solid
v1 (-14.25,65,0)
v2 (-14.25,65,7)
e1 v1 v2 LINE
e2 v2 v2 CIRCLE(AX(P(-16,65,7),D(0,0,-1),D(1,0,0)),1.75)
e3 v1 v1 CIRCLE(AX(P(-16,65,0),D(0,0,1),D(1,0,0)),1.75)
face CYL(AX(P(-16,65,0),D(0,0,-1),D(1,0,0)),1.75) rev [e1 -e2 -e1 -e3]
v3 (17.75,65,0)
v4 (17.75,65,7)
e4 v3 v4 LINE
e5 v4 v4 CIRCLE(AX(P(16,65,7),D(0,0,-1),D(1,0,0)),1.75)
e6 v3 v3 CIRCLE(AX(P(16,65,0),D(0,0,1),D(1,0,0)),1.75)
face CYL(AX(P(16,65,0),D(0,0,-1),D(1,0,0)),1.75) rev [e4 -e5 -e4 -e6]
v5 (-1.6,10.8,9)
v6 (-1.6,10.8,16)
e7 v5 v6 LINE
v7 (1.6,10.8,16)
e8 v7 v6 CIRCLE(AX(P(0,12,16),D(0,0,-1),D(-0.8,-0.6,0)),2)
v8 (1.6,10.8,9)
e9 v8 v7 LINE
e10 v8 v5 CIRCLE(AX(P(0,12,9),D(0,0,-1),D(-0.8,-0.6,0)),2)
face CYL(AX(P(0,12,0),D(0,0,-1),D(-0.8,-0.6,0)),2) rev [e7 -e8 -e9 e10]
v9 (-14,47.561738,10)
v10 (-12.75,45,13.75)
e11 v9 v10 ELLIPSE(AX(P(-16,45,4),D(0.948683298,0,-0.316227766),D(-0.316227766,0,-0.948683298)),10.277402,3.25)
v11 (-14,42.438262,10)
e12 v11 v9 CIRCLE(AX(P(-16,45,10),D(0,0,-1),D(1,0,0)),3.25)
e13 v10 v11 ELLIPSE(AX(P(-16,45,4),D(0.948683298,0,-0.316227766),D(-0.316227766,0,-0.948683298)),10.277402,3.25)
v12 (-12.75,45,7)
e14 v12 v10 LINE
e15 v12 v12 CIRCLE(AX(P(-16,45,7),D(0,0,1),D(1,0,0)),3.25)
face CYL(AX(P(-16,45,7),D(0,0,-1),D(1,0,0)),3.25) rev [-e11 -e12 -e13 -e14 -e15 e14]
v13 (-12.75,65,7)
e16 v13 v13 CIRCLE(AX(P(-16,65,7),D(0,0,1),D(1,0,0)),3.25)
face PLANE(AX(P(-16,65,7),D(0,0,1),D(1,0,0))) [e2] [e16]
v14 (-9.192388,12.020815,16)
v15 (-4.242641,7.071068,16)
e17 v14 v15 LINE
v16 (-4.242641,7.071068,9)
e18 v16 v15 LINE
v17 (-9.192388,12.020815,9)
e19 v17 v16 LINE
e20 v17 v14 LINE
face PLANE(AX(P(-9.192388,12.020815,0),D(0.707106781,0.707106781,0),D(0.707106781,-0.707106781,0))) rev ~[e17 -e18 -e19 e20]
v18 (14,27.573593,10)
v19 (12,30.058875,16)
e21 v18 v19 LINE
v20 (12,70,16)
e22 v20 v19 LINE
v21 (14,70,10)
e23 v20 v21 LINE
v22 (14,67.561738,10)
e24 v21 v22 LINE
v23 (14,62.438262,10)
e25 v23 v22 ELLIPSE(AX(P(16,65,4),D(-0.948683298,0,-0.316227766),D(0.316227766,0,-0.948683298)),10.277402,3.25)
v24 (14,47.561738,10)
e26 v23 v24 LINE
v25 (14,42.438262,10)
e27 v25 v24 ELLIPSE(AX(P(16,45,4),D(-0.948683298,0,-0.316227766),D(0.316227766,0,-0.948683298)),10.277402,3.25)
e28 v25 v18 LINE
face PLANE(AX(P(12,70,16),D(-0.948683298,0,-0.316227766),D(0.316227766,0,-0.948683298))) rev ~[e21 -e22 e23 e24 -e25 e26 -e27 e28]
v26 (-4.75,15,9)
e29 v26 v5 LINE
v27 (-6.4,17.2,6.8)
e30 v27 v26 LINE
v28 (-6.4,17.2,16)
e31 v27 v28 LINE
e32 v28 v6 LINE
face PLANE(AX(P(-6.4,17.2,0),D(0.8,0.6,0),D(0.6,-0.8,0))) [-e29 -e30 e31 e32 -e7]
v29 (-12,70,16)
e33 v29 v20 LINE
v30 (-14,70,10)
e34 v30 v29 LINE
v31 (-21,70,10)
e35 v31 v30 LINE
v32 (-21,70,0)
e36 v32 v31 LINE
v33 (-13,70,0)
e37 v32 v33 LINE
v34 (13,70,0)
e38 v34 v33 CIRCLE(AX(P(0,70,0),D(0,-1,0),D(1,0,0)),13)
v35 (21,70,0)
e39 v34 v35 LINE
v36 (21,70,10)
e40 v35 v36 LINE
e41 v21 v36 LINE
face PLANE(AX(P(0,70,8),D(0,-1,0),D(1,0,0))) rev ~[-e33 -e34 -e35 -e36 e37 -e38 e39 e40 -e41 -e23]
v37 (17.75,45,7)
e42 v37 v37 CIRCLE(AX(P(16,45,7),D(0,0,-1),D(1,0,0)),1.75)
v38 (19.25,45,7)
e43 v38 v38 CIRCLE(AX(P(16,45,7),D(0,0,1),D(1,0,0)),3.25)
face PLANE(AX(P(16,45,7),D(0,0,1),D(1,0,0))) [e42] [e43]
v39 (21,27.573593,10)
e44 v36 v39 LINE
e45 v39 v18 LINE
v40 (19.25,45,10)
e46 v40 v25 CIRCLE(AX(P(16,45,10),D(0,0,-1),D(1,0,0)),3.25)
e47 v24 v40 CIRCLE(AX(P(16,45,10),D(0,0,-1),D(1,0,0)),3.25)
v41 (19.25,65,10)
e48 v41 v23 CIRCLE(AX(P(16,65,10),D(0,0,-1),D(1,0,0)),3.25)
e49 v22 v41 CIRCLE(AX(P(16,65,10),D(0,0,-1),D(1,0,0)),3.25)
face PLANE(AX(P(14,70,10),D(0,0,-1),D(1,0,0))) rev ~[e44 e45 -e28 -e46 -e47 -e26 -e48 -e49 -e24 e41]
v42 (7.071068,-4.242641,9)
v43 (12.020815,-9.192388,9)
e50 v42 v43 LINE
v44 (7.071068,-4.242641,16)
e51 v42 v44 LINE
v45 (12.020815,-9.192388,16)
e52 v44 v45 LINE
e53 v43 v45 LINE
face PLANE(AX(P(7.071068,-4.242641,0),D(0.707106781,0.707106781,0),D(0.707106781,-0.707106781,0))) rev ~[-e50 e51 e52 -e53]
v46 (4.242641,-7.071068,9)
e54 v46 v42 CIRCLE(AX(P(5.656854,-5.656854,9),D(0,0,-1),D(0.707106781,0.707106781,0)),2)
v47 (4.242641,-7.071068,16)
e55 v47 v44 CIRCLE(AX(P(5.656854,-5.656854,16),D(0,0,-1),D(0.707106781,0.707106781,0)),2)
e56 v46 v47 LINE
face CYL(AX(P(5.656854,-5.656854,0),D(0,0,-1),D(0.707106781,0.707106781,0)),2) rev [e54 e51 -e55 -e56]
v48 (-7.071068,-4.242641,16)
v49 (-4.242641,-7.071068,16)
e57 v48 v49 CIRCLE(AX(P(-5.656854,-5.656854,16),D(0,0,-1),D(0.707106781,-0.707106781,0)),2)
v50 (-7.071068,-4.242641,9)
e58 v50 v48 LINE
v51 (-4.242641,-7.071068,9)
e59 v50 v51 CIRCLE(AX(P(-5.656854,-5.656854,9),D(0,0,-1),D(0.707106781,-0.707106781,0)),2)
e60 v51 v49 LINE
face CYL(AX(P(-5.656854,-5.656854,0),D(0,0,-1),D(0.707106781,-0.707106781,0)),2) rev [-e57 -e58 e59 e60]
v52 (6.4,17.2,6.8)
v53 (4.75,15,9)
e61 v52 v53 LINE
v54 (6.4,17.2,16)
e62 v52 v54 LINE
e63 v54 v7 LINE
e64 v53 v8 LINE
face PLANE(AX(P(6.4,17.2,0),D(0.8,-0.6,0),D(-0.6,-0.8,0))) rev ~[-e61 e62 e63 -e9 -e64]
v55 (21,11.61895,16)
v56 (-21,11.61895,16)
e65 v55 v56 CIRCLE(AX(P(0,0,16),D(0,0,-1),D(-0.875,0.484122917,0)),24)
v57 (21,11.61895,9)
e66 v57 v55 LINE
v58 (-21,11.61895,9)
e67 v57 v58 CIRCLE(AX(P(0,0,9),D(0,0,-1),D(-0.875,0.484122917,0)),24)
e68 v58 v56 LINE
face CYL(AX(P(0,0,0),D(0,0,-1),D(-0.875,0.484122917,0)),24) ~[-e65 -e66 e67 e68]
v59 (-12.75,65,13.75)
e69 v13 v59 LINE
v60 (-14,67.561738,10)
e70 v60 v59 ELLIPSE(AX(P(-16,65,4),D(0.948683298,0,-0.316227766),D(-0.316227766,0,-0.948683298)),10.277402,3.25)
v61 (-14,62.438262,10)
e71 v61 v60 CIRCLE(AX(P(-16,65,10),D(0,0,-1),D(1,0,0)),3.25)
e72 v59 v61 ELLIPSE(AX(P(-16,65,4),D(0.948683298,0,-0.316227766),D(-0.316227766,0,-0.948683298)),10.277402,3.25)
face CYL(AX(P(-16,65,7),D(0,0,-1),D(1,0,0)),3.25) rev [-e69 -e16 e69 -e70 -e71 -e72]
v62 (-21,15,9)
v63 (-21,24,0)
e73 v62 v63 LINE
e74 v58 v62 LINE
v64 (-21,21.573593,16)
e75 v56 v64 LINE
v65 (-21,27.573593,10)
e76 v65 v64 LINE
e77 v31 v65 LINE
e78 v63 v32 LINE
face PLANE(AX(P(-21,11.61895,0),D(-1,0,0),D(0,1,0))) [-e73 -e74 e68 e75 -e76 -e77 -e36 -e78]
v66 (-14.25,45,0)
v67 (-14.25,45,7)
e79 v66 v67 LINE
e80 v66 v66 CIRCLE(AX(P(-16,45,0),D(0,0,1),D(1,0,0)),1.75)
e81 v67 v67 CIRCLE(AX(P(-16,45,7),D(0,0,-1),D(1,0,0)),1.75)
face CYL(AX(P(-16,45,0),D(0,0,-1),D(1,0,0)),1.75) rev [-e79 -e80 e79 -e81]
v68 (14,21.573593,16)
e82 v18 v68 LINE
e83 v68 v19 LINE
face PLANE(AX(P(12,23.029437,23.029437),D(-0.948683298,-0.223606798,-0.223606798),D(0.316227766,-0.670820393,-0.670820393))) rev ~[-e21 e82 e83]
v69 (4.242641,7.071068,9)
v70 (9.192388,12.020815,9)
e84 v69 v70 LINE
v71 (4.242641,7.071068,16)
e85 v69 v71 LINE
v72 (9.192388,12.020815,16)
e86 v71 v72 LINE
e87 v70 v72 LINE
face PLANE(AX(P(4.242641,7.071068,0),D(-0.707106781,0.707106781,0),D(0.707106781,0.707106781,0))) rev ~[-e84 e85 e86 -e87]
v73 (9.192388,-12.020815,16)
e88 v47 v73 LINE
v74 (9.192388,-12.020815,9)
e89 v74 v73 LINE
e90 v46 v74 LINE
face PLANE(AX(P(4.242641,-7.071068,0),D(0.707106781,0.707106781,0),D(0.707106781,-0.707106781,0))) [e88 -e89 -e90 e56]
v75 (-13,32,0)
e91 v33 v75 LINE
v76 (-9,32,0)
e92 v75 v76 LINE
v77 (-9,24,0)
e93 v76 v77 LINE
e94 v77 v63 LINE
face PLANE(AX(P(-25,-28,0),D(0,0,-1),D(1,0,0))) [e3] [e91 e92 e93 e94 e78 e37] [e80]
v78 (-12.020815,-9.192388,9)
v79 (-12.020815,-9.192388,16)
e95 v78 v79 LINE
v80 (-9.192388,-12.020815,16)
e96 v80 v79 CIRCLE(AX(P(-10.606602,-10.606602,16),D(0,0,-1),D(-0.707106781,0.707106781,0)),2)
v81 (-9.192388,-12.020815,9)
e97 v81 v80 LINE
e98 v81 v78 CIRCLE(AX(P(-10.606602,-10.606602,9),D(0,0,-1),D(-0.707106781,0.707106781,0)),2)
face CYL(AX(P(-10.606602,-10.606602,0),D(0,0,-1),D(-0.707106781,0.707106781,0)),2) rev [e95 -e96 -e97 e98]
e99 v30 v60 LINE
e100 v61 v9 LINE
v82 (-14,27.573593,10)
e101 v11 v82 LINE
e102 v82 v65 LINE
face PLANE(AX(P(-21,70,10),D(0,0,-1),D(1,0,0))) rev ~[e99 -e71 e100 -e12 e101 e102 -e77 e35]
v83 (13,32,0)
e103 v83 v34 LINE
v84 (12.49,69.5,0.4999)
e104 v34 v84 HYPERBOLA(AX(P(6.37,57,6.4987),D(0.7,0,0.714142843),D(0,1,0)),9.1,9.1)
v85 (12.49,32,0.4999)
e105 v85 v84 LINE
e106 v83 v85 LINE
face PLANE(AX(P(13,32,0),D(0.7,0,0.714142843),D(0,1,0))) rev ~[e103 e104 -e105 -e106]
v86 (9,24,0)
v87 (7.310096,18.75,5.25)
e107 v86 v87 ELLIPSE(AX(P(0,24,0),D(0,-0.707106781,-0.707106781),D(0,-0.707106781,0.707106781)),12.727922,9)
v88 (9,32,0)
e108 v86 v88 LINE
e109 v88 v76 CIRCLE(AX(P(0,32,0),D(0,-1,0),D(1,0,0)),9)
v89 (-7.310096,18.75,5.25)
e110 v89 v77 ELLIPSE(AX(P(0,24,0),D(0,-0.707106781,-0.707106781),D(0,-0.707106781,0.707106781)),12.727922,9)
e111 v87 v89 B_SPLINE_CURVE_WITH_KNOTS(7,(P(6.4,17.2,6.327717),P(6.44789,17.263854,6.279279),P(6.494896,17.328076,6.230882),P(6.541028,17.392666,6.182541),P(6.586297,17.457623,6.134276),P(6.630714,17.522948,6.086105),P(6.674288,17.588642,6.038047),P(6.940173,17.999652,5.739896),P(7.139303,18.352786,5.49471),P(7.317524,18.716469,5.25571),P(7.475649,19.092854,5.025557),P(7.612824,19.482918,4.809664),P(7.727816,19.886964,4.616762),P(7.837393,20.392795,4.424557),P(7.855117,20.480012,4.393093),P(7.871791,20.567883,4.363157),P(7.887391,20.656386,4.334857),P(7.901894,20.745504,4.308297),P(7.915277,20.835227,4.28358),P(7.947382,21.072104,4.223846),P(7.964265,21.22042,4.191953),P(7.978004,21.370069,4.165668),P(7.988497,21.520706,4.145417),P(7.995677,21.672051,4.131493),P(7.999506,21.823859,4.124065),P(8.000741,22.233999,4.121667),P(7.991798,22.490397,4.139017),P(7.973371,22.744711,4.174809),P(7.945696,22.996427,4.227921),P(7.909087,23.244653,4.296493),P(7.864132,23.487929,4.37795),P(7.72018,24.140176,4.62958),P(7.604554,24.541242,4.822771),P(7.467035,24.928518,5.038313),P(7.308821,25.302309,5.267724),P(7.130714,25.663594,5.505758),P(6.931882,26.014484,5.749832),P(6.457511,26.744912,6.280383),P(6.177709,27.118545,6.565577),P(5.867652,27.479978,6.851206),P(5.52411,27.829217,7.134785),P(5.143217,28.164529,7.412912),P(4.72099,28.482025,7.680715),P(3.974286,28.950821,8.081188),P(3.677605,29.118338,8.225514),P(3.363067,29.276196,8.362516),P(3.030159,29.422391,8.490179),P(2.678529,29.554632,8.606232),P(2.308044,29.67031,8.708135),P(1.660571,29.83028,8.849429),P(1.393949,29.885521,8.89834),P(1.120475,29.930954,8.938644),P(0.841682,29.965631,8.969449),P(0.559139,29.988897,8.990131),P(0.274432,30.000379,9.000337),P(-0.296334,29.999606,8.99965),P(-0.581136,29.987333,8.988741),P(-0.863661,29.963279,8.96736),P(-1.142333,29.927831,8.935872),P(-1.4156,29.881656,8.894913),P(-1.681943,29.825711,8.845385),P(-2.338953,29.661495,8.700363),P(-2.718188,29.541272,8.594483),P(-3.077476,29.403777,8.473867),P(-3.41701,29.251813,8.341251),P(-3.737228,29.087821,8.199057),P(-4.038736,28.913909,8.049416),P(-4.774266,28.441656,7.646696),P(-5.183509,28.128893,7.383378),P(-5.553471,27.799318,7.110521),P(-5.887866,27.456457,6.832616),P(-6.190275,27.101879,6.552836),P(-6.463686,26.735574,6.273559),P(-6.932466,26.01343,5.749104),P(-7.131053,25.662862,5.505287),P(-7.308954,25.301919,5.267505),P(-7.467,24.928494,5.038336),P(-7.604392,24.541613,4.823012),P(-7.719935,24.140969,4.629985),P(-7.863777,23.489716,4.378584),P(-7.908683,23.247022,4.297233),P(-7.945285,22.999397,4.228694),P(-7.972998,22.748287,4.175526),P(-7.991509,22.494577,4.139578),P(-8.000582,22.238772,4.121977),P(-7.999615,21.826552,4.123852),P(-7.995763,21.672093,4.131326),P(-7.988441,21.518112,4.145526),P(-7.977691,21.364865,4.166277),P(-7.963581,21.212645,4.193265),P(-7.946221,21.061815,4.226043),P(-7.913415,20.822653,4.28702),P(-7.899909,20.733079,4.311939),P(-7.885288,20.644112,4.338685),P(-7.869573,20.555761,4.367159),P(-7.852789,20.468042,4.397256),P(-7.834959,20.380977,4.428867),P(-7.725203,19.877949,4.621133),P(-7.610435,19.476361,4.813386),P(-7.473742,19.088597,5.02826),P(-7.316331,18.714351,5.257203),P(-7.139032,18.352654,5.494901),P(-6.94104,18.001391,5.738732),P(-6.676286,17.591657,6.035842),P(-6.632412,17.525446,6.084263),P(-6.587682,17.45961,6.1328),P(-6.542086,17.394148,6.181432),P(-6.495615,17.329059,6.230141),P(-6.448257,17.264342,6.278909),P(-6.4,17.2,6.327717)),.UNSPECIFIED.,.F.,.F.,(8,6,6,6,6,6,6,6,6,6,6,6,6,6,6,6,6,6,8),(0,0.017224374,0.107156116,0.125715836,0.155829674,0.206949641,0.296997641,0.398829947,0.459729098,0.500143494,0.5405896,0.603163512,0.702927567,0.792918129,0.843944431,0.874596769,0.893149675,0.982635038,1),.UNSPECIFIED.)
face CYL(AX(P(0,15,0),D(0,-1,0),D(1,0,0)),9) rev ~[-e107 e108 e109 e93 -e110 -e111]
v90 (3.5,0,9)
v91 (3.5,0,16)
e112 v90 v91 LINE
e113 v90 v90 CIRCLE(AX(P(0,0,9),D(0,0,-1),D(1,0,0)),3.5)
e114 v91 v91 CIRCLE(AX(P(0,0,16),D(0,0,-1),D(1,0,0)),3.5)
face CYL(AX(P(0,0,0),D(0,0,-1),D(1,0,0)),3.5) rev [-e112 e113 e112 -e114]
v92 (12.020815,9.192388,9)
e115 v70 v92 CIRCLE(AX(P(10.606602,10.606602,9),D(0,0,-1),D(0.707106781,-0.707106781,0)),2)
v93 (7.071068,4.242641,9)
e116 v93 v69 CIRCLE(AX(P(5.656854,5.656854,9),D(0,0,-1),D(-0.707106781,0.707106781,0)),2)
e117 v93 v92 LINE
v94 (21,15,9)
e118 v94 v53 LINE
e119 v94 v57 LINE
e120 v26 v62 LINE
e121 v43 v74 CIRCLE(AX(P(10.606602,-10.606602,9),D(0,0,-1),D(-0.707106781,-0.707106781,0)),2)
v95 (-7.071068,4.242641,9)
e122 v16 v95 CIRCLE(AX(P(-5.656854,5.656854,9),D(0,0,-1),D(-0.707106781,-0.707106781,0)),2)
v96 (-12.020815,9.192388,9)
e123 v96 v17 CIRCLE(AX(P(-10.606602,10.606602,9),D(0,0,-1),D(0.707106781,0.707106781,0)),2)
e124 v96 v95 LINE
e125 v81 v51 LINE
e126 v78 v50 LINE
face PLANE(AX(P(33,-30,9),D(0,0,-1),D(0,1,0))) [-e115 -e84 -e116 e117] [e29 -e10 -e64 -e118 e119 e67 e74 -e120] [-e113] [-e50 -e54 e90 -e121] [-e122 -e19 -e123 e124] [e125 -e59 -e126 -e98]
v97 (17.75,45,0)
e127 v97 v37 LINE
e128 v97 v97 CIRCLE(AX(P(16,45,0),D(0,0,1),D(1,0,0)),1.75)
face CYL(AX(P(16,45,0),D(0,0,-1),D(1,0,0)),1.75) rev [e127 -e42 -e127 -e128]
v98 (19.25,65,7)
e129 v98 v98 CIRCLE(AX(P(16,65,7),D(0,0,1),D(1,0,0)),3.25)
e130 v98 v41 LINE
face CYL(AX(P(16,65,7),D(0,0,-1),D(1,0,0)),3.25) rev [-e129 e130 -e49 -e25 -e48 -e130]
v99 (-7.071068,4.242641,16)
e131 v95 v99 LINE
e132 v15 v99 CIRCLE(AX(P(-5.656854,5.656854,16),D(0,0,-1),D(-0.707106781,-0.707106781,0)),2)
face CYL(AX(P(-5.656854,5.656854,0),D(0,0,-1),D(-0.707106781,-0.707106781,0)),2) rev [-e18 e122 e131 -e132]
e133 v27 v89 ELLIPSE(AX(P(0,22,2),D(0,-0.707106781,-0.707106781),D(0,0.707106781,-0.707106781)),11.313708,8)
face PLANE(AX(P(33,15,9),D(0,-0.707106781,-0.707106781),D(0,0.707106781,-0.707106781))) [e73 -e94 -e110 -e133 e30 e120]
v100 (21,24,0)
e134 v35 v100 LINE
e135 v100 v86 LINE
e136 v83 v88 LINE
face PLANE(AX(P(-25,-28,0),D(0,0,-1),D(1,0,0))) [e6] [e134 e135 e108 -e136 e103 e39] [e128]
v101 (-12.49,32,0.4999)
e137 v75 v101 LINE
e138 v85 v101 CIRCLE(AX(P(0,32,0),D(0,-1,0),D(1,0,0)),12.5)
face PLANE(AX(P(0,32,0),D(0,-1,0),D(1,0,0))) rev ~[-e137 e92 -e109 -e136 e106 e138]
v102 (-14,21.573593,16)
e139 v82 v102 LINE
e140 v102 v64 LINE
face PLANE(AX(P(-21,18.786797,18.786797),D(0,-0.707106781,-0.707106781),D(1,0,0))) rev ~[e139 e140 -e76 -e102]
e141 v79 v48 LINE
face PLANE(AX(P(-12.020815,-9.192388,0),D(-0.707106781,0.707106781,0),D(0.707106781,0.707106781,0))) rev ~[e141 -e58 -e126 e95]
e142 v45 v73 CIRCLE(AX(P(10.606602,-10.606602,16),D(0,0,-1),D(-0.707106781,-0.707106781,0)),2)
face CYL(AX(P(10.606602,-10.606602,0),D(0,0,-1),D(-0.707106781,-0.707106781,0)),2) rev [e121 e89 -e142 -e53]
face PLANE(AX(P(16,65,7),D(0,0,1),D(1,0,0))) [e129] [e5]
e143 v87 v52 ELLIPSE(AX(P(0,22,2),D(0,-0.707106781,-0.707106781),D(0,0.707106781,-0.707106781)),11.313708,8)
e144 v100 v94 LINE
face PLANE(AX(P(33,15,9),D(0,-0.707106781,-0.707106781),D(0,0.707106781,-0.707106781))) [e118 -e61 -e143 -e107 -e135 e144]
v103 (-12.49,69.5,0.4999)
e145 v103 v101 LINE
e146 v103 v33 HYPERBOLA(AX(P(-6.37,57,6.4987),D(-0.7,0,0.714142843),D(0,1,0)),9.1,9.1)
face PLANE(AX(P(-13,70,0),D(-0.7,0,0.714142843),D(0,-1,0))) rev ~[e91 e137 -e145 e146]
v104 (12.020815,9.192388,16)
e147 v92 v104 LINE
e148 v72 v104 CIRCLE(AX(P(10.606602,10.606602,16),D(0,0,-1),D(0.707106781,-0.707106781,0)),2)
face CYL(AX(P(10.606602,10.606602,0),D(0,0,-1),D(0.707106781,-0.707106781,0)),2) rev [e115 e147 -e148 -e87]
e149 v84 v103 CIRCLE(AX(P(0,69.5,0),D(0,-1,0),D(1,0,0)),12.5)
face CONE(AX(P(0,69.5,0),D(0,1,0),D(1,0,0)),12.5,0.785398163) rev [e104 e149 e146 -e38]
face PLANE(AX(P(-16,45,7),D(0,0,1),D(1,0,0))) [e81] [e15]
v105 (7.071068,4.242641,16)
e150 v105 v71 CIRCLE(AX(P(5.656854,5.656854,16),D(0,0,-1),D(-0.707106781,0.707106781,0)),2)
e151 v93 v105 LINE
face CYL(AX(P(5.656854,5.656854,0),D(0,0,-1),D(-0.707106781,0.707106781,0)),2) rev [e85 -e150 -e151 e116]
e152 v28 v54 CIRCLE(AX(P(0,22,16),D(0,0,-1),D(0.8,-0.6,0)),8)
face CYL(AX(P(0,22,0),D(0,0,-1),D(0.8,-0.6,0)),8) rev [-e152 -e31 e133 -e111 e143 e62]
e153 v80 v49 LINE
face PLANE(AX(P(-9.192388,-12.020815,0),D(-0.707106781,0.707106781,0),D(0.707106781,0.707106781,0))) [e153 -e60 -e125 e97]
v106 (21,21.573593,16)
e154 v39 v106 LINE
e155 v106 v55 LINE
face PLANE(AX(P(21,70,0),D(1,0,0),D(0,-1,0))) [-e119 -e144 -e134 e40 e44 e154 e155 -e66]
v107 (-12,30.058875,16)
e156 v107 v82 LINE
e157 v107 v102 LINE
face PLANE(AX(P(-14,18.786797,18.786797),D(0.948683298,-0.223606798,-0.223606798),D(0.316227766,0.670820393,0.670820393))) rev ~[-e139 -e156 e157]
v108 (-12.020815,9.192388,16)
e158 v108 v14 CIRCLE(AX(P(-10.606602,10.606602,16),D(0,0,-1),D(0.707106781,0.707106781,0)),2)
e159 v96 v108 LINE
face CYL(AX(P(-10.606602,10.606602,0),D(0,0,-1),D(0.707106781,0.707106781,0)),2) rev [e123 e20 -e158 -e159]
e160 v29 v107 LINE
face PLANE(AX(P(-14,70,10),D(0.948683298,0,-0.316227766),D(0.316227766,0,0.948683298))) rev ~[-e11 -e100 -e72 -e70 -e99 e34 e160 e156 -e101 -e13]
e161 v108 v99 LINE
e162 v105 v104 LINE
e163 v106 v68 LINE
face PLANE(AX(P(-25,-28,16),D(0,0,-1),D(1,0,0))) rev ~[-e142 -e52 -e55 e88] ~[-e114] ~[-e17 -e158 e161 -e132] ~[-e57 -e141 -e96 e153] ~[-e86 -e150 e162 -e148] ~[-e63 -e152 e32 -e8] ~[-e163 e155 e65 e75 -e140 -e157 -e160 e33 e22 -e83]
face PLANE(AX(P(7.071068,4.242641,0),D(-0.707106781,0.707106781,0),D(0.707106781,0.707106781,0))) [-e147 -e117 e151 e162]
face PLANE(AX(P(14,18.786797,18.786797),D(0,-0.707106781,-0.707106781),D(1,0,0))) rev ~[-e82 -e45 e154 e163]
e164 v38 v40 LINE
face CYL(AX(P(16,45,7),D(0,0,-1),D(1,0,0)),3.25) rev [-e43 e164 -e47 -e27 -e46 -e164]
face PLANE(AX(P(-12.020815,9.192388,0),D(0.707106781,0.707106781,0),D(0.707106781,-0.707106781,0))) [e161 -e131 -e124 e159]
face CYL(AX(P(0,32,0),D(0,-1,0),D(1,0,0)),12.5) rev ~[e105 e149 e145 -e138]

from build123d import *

# Parameters (mm, degrees)
SKETCH007_R                          = 3.25
EXTRUDE006_DEPTH                     = 10
SKETCH006_AS_DRAWN_R                 = 9
EXTRUDE005_DEPTH                     = 27
EXTRUDE005_ONTO_SKETCH006_ROLL_ANGLE = 90
SKETCH_R                             = 3.5
SKETCH_R_2                           = 1.75
EXTRUDE_DEPTH                        = 30
SKETCH001_AS_DRAWN_R                 = 12.5
EXTRUDE004_DEPTH                     = 50
EXTRUDE004_ONTO_SKETCH001_ROLL_ANGLE = 90
EXTRUDE002_DEPTH                     = 60
SKETCH003_AS_DRAWN_W                 = 50
SKETCH003_AS_DRAWN_H                 = 16
EXTRUDE003_DEPTH                     = 98
EXTRUDE003_ONTO_SKETCH003_ROLL_ANGLE = 90
CHAMFER_SIZE                         = 0.5


with BuildPart() as extrude006:
    # Sketch007 → Extrude006 (new body)
    with BuildSketch(Plane.XY):
        with Locations((-16, 45)):
            Circle(SKETCH007_R)
        with Locations((16, 45)):
            Circle(SKETCH007_R)
        with Locations((-16, 65)):
            Circle(SKETCH007_R)
        with Locations((16, 65)):
            Circle(SKETCH007_R)
    extrude(amount=EXTRUDE006_DEPTH)


with BuildPart() as extrude006_1:
    # Extrude006 placement: moved
    add(extrude006.part.moved(Location((0, 0, 7))))


with BuildPart() as extrude005:
    # Sketch006 as drawn → Extrude005 (new)
    with BuildSketch(Plane.XY):
        Circle(SKETCH006_AS_DRAWN_R)
    extrude(amount=-EXTRUDE005_DEPTH)


with BuildPart() as extrude005_1:
    # Extrude005 onto Sketch006 roll: moved
    add(extrude005.part.rotate(Axis((0, 0, 0), (1, 0, 0)), EXTRUDE005_ONTO_SKETCH006_ROLL_ANGLE))


with BuildPart() as extrude005_2:
    # Extrude005 onto Sketch006 placement: moved
    add(extrude005_1.part.moved(Location((0, 33, 0))))


with BuildPart() as extrude005_3:
    # Extrude005 placement: moved
    add(extrude005_2.part.moved(Location((0, -18, 0))))


with BuildPart() as sweep_body:
    # Sweep: sweep along a path in Sketch005
    with BuildLine(Plane.YZ) as sweep_path:
        Line((70, 40), (40, 40))
        Line((40, 40), (32.928932, 47.071068))
    # Sketch004 → Sweep (sweep)
    with BuildSketch(Plane.XZ.offset(-70)):
        Polygon((-12, 16), (12, 16), (14, 10), (21, 10), (21, 28), (-21, 28), (-21, 10), (-14, 10), align=None)
    sweep(path=sweep_path.line, transition=Transition.RIGHT)


with BuildPart() as extrude_body:
    # Sketch → Extrude (new body)
    with BuildSketch(Plane.XY):
        Circle(SKETCH_R)
        with Locations((-16, 45)):
            Circle(SKETCH_R_2)
        with Locations((-16, 65)):
            Circle(SKETCH_R_2)
        with Locations((16, 65)):
            Circle(SKETCH_R_2)
        with Locations((16, 45)):
            Circle(SKETCH_R_2)
        with BuildLine():
            ThreePointArc((-12.020815, -9.192388), (-12.020815, -12.020815), (-9.192388, -12.020815))
            Line((-9.192388, -12.020815), (-4.242641, -7.071068))
            ThreePointArc((-4.242641, -7.071068), (-4.242641, -4.242641), (-7.071068, -4.242641))
            Line((-12.020815, -9.192388), (-7.071068, -4.242641))
        make_face()
        with BuildLine():
            ThreePointArc((7.071068, -4.242641), (4.242641, -4.242641), (4.242641, -7.071068))
            Line((4.242641, -7.071068), (9.192388, -12.020815))
            ThreePointArc((9.192388, -12.020815), (12.020815, -12.020815), (12.020815, -9.192388))
            Line((7.071068, -4.242641), (12.020815, -9.192388))
        make_face()
        with BuildLine():
            ThreePointArc((4.242641, 7.071068), (4.242641, 4.242641), (7.071068, 4.242641))
            Line((7.071068, 4.242641), (12.020815, 9.192388))
            ThreePointArc((12.020815, 9.192388), (12.020815, 12.020815), (9.192388, 12.020815))
            Line((4.242641, 7.071068), (9.192388, 12.020815))
        make_face()
        with BuildLine():
            ThreePointArc((-9.192388, 12.020815), (-12.020815, 12.020815), (-12.020815, 9.192388))
            Line((-12.020815, 9.192388), (-7.071068, 4.242641))
            ThreePointArc((-7.071068, 4.242641), (-4.242641, 4.242641), (-4.242641, 7.071068))
            Line((-9.192388, 12.020815), (-4.242641, 7.071068))
        make_face()
        with BuildLine():
            ThreePointArc((6.4, 17.2), (0, 30), (-6.4, 17.2))
            Line((-6.4, 17.2), (-1.6, 10.8))
            ThreePointArc((-1.6, 10.8), (0, 10), (1.6, 10.8))
            Line((6.4, 17.2), (1.6, 10.8))
        make_face()
        with BuildLine():
            ThreePointArc((-21, 11.61895), (0, -24), (21, 11.61895))
            Line((21, 70), (21, 11.61895))
            Line((30, 70), (21, 70))
            Line((30, -30), (30, 70))
            Line((-30, -30), (30, -30))
            Line((-30, 70), (-30, -30))
            Line((-21, 70), (-30, 70))
            Line((-21, 11.61895), (-21, 70))
        make_face()
    extrude(amount=EXTRUDE_DEPTH)


with BuildPart() as extrude004:
    # Sketch001 as drawn → Extrude004 (new)
    with BuildSketch(Plane.XY):
        Circle(SKETCH001_AS_DRAWN_R)
    extrude(amount=-EXTRUDE004_DEPTH)


with BuildPart() as extrude004_1:
    # Extrude004 onto Sketch001 roll: moved
    add(extrude004.part.rotate(Axis((0, 0, 0), (1, 0, 0)), EXTRUDE004_ONTO_SKETCH001_ROLL_ANGLE))


with BuildPart() as extrude004_2:
    # Extrude004 onto Sketch001 placement: moved
    add(extrude004_1.part.moved(Location((0, 32, 0))))


with BuildPart() as extrude002:
    # Sketch002 → Extrude002 (new body)
    with BuildSketch(Plane.YZ.offset(33)):
        Polygon((-30, 9), (15, 9), (24, 0), (-30, 0), align=None)
    extrude(amount=-EXTRUDE002_DEPTH)


with BuildPart() as chamfer_body:
    # Sketch003 as drawn → Extrude003 (new)
    with BuildSketch(Plane.XY):
        with Locations((0, 8)):
            Rectangle(SKETCH003_AS_DRAWN_W, SKETCH003_AS_DRAWN_H)
    extrude(amount=-EXTRUDE003_DEPTH)


with BuildPart() as chamfer_body_1:
    # Extrude003 onto Sketch003 roll: moved
    add(chamfer_body.part.rotate(Axis((0, 0, 0), (1, 0, 0)), EXTRUDE003_ONTO_SKETCH003_ROLL_ANGLE))


with BuildPart() as chamfer_body_2:
    # Extrude003 onto Sketch003 placement: moved
    add(chamfer_body_1.part.moved(Location((0, -28, 0))))

    # Cut: cut Extrude002
    add(extrude002.part, mode=Mode.SUBTRACT)

    # Cut001: cut Extrude004
    add(extrude004_2.part, mode=Mode.SUBTRACT)

    # Cut002: cut Extrude body
    add(extrude_body.part, mode=Mode.SUBTRACT)

    # Cut003: cut Sweep body
    add(sweep_body.part, mode=Mode.SUBTRACT)

    # Cut004: cut Extrude005
    add(extrude005_3.part, mode=Mode.SUBTRACT)

    # Cut005: cut Extrude006
    add(extrude006_1.part, mode=Mode.SUBTRACT)

    # Chamfer
    chamfer_edges = [chamfer_body_2.edges().sort_by_distance(p)[0] for p in [
        (12.5, 51, 0),
        (0, 70, 12.5),
        (-12.5, 51, 0),
    ]]
    chamfer(chamfer_edges, length=CHAMFER_SIZE)


solid = chamfer_body_2.part
